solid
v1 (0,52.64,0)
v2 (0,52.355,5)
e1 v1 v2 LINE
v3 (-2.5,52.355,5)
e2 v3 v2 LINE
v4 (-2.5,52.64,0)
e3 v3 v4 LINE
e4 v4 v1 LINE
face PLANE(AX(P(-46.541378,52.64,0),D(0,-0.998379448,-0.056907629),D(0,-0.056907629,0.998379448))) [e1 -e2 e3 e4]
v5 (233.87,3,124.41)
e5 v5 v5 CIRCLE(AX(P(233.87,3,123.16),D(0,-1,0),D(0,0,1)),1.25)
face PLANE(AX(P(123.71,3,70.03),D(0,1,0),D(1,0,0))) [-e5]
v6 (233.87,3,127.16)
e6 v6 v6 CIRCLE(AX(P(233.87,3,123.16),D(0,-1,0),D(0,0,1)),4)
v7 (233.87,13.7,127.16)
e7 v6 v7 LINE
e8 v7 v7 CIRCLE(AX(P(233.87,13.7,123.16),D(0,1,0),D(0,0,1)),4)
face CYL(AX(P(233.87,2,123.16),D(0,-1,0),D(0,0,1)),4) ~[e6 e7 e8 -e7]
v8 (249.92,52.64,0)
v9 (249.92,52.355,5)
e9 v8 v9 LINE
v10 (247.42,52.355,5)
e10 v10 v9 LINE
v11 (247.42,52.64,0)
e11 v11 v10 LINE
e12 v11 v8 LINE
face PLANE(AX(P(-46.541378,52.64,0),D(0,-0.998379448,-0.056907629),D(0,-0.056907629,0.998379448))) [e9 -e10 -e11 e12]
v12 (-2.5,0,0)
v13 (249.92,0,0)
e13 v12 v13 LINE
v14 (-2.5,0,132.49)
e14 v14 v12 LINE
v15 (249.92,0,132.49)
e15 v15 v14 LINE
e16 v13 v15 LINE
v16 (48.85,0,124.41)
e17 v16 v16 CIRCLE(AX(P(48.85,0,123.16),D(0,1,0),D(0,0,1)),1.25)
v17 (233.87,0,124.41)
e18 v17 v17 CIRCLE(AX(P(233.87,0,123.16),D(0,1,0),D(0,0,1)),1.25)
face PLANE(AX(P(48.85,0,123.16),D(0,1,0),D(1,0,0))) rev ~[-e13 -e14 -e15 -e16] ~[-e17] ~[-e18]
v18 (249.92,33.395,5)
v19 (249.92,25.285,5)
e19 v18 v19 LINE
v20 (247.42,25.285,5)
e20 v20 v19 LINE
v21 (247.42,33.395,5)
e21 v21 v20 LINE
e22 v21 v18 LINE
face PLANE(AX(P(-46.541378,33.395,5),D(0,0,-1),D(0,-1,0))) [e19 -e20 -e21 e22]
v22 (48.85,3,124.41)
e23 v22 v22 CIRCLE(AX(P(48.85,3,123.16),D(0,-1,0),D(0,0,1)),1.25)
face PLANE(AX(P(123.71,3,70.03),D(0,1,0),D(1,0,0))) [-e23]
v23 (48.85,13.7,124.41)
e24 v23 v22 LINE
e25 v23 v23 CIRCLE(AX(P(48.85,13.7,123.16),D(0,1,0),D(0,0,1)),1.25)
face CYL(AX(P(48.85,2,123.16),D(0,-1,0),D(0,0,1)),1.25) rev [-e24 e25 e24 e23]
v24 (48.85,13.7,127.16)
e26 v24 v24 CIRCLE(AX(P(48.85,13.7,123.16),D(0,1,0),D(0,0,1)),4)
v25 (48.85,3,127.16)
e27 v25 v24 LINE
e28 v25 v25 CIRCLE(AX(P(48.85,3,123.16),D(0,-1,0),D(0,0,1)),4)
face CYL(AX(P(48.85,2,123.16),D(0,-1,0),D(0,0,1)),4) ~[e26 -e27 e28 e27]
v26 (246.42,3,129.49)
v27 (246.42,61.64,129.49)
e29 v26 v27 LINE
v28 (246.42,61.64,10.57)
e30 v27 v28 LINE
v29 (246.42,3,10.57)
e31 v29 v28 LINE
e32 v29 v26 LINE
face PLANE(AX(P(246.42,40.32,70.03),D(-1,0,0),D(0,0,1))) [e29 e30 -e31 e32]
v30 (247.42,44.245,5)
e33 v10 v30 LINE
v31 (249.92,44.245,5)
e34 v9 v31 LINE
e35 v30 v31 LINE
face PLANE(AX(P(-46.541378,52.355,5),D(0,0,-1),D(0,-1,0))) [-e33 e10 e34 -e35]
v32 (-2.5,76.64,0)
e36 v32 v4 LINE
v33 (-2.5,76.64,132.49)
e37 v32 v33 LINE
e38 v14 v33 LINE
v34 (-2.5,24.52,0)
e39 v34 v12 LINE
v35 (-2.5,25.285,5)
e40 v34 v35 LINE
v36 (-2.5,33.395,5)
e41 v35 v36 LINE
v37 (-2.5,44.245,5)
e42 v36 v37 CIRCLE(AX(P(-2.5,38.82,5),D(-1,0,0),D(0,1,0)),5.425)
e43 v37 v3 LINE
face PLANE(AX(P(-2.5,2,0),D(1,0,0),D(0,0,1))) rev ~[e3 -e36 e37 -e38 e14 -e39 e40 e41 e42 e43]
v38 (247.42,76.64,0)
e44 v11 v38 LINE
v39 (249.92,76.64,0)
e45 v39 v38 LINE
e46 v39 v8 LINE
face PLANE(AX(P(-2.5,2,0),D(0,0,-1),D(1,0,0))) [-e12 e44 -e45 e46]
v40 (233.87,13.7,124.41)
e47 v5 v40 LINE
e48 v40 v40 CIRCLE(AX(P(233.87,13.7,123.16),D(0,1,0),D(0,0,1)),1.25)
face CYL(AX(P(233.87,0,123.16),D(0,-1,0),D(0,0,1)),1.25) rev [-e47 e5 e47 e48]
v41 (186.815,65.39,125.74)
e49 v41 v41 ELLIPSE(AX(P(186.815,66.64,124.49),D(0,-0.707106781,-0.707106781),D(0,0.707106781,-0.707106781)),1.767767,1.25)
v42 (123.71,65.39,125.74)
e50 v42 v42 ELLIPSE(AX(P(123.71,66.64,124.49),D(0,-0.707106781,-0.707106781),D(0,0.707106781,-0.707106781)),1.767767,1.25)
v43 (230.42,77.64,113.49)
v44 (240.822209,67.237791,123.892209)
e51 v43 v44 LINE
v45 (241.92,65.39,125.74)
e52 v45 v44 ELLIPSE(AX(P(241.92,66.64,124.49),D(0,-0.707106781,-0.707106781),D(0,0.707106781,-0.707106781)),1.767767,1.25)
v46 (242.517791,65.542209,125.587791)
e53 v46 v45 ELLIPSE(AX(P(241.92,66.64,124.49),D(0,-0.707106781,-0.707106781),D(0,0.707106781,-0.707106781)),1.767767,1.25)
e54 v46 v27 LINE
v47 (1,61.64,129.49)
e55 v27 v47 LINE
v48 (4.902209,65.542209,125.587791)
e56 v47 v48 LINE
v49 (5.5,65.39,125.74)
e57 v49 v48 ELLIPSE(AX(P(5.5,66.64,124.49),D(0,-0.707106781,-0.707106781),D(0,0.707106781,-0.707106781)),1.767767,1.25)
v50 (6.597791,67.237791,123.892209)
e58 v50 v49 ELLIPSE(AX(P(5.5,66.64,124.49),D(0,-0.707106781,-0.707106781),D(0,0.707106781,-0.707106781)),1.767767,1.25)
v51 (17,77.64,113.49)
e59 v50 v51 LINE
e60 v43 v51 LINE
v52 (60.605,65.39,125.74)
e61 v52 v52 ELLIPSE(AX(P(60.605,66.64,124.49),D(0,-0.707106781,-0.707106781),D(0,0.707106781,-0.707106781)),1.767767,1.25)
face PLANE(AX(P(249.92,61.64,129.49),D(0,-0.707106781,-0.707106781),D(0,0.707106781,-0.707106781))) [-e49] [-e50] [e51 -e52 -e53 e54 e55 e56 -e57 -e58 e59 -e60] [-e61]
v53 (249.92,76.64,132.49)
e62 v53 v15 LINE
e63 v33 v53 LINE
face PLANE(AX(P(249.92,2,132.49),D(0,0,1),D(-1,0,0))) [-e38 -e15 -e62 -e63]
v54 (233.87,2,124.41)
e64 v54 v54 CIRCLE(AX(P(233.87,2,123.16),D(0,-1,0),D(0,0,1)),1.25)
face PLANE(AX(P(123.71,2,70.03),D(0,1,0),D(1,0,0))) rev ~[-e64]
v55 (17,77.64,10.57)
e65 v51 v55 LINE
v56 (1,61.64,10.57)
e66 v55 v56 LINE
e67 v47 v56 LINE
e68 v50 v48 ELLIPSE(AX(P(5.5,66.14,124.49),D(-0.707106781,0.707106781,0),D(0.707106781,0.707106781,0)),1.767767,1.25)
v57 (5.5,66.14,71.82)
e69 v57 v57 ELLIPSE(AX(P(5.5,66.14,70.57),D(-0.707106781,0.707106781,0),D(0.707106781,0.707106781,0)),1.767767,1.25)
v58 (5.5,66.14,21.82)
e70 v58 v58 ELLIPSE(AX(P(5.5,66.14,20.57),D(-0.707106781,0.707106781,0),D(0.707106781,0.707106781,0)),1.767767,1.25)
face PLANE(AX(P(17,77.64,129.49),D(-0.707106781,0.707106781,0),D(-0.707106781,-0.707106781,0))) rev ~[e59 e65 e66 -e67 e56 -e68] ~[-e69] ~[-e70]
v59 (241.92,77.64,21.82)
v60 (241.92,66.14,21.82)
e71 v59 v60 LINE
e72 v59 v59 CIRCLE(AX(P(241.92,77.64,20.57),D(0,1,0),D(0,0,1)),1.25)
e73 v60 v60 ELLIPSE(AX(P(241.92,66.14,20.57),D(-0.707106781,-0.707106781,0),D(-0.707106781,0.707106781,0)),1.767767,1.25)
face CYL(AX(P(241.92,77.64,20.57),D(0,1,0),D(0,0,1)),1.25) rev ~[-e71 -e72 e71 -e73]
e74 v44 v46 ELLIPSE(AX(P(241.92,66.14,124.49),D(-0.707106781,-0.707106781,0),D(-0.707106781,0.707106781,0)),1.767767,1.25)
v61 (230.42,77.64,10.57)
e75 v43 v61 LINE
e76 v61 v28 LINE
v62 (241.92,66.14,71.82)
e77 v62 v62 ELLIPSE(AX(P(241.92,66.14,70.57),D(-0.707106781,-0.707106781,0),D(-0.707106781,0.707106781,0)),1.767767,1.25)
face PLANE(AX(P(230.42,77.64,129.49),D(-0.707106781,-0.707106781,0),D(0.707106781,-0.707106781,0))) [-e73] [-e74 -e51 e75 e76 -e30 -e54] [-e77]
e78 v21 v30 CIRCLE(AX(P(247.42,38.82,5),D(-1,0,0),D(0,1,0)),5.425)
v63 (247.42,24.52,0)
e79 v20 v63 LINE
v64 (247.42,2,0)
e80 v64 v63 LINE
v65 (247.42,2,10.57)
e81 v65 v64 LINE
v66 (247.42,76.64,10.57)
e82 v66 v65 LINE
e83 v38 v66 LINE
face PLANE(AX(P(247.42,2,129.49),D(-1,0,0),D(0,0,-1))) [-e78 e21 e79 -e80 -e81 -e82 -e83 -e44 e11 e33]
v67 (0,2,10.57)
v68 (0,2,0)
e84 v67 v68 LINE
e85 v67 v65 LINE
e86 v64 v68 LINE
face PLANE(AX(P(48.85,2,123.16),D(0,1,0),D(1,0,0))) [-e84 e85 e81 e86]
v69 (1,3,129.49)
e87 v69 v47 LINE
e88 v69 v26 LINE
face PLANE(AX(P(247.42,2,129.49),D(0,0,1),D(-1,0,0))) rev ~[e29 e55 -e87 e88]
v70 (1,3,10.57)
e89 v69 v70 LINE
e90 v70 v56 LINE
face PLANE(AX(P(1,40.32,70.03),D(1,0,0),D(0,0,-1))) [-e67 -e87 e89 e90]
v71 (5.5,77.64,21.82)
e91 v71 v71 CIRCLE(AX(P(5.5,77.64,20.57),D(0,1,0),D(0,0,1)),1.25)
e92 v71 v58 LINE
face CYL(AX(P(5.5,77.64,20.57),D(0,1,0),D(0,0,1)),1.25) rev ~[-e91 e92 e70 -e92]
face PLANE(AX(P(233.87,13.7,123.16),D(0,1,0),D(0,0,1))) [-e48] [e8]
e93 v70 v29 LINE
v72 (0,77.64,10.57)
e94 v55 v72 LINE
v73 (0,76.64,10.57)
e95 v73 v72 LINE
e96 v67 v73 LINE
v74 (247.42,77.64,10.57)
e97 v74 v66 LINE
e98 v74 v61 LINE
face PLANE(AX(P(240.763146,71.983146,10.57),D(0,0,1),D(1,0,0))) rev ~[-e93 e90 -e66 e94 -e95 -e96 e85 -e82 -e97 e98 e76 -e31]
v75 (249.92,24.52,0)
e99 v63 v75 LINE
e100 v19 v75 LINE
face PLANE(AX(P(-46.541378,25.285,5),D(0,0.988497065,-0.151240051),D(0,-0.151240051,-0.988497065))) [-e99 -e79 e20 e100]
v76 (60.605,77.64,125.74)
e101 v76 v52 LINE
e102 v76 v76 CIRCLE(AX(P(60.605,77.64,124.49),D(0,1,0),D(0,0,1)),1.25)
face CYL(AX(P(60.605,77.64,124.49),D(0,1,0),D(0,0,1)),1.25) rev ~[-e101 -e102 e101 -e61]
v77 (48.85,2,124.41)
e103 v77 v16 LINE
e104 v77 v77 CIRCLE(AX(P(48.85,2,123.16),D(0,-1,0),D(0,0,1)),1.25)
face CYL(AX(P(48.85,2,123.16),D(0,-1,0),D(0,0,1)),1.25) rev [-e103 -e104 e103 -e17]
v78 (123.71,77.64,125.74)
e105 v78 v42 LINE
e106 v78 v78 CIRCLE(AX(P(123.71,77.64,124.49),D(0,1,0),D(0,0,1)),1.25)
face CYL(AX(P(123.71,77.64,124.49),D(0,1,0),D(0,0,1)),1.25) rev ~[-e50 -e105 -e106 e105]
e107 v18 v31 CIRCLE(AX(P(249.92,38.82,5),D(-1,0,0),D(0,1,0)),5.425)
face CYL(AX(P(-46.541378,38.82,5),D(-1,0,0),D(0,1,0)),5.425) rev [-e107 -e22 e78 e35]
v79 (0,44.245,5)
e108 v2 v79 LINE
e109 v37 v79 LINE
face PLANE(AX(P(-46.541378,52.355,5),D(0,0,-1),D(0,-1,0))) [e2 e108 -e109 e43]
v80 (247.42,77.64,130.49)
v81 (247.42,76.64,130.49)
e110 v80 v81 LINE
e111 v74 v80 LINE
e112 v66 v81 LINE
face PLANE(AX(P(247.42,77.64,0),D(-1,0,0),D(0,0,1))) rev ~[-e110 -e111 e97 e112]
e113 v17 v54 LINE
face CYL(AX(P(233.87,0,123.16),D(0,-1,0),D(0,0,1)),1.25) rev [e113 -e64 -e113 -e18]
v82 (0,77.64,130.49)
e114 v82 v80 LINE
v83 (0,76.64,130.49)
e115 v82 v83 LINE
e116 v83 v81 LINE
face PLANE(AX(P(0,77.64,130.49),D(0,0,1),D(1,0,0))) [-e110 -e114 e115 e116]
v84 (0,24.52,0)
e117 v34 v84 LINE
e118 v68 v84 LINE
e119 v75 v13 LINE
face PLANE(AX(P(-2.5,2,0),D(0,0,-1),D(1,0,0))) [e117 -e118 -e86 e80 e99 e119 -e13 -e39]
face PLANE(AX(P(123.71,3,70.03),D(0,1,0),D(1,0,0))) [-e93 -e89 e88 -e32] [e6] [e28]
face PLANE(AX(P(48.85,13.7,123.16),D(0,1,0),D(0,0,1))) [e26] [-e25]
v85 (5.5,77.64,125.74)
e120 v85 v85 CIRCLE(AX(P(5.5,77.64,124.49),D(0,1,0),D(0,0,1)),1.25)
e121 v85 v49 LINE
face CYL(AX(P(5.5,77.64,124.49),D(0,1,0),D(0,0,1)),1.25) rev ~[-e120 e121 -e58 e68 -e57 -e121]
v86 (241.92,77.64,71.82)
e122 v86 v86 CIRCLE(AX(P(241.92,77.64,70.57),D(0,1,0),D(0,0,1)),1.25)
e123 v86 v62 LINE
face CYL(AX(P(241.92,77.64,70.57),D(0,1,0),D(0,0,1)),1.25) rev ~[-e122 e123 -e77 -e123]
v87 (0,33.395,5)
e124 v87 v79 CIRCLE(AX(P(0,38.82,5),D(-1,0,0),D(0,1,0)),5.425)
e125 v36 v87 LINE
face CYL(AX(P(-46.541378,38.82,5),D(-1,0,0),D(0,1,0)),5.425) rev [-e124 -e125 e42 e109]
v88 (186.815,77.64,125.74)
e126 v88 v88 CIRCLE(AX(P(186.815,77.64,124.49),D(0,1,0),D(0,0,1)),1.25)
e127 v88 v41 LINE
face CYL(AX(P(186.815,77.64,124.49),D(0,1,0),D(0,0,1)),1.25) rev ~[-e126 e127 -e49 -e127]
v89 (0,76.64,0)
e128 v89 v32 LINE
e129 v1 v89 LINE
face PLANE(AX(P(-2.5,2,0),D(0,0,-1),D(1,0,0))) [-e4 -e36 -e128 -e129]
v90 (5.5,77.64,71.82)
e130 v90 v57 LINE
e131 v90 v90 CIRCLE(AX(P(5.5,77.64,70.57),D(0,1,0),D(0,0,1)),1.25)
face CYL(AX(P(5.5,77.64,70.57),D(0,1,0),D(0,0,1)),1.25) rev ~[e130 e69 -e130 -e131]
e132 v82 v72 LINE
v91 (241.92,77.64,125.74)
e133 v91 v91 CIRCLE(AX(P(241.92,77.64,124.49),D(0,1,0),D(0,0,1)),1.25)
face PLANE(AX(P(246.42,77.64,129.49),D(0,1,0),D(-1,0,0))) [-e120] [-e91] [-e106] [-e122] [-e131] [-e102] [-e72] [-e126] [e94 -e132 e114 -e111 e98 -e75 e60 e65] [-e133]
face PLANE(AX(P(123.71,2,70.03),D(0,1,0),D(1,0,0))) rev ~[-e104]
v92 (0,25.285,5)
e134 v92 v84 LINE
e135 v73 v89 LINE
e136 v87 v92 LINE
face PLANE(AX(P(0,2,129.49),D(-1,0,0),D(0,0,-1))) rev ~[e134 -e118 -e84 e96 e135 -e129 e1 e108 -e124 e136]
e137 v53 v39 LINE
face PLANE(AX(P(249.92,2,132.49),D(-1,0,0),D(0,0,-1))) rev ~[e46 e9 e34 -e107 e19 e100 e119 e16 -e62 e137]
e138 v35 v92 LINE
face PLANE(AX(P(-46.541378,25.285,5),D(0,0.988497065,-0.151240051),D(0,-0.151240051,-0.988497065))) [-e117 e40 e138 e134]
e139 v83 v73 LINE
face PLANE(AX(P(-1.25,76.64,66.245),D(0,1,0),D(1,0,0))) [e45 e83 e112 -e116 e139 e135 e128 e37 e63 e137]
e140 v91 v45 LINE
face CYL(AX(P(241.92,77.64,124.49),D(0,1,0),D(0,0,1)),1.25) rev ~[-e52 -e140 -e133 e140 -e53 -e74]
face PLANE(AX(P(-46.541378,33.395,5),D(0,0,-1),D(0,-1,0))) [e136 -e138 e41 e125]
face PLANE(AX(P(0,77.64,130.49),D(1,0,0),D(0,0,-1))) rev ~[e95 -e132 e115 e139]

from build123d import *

# Parameters (mm, degrees)
SKETCH1_W               = 247.42
SKETCH1_H               = 129.49
SKETCH1_R               = 4
SKETCH1_W_2             = 2.5
SKETCH1_R_2             = 1.25
BOSS_EXTRUDE1_DEPTH     = 2
BOSS_EXTRUDE2_START     = 2
SKETCH1_6_R             = 4
SKETCH1_6_R_2           = 1.25
BOSS_EXTRUDE2_DEPTH     = 11.7
BOSS_EXTRUDE3_START     = 2
SKETCH1_7_W             = 2.5
SKETCH1_7_H             = 129.49
BOSS_EXTRUDE3_DEPTH     = 75.64
SKETCH2_W               = 247.42
SKETCH2_H               = 118.92
BOSS_EXTRUDE4_DEPTH     = 1
SKETCH3_W               = 118.92
SKETCH3_H               = 74.64
BOSS_EXTRUDE5_DEPTH     = 1
SKETCH4_W               = 118.92
SKETCH4_H               = 74.64
BOSS_EXTRUDE6_DEPTH     = 1
CUT_EXTRUDE1_DEPTH      = 296.461378356
CUT_EXTRUDE1_DEPTH_BACK = 296.461378356
BOSS_EXTRUDE7_DEPTH     = 118.92
BOSS_EXTRUDE8_REACH     = 297.461
CUT_EXTRUDE2_REACH      = 295.328
SKETCH8_R               = 1.25
SKETCH9_W               = 247.42
SKETCH9_H               = 2
CUT_EXTRUDE3_DEPTH      = 1


with BuildPart() as part:
    # Sketch1 → Boss-Extrude1 (new body)
    # profile 1 of 6: a face of its own
    with BuildSketch(Plane(origin=(0, 0, 0), x_dir=(1, 0, 0), z_dir=(0, 1, 0))):
        with Locations((123.71, -64.745)):
            Rectangle(SKETCH1_W, SKETCH1_H)
        with Locations((48.85, -123.16)):
            Circle(SKETCH1_R, mode=Mode.SUBTRACT)
        with Locations((233.87, -123.16)):
            Circle(SKETCH1_R, mode=Mode.SUBTRACT)
    # profile 2 of 6: a face of its own
    with BuildSketch(Plane(origin=(0, 0, 0), x_dir=(1, 0, 0), z_dir=(0, 1, 0))):
        with Locations((-1.25, -64.745)):
            Rectangle(SKETCH1_W_2, SKETCH1_H)
    # profile 3 of 6: a face of its own
    with BuildSketch(Plane(origin=(0, 0, 0), x_dir=(1, 0, 0), z_dir=(0, 1, 0))):
        Polygon((249.92, -129.49), (249.92, -132.49), (-2.5, -132.49), (-2.5, -129.49), (0, -129.49), (247.42, -129.49), align=None)
    # profile 4 of 6: a face of its own
    with BuildSketch(Plane(origin=(0, 0, 0), x_dir=(1, 0, 0), z_dir=(0, 1, 0))):
        with Locations((248.67, -64.745)):
            Rectangle(SKETCH1_W_2, SKETCH1_H)
    # profile 5 of 6: a face of its own
    with BuildSketch(Plane(origin=(0, 0, 0), x_dir=(1, 0, 0), z_dir=(0, 1, 0))):
        with Locations((233.87, -123.16)):
            Circle(SKETCH1_R)
        with Locations(Location((233.87, -123.16, 0), (0, 0, 270))):
            Circle(SKETCH1_R_2, mode=Mode.SUBTRACT)
    # profile 6 of 6: a face of its own
    with BuildSketch(Plane(origin=(0, 0, 0), x_dir=(1, 0, 0), z_dir=(0, 1, 0))):
        with Locations((48.85, -123.16)):
            Circle(SKETCH1_R)
        with Locations(Location((48.85, -123.16, 0), (0, 0, 270))):
            Circle(SKETCH1_R_2, mode=Mode.SUBTRACT)
    extrude(amount=BOSS_EXTRUDE1_DEPTH)

    # Sketch1<6> → Boss-Extrude2 (add)
    # profile 1 of 2: a face of its own
    with BuildSketch(Plane(origin=(0, 0, 0), x_dir=(1, 0, 0), z_dir=(0, 1, 0)).offset(BOSS_EXTRUDE2_START)):
        with Locations(Location((48.85, -123.16, 0), (0, 0, 270))):
            Circle(SKETCH1_6_R)
        with Locations(Location((48.85, -123.16, 0), (0, 0, 270))):
            Circle(SKETCH1_6_R_2, mode=Mode.SUBTRACT)
    # profile 2 of 2: a face of its own
    with BuildSketch(Plane(origin=(0, 0, 0), x_dir=(1, 0, 0), z_dir=(0, 1, 0)).offset(BOSS_EXTRUDE2_START)):
        with Locations(Location((233.87, -123.16, 0), (0, 0, 270))):
            Circle(SKETCH1_6_R)
        with Locations(Location((233.87, -123.16, 0), (0, 0, 270))):
            Circle(SKETCH1_6_R_2, mode=Mode.SUBTRACT)
    extrude(amount=BOSS_EXTRUDE2_DEPTH)

    # Sketch1<7> → Boss-Extrude3 (add)
    with BuildSketch(Plane(origin=(0, 0, 0), x_dir=(1, 0, 0), z_dir=(0, 1, 0)).offset(BOSS_EXTRUDE3_START)):
        with Locations((-1.25, -64.745)):
            Rectangle(SKETCH1_7_W, SKETCH1_7_H)
        Polygon((249.92, -129.49), (249.92, -132.49), (-2.5, -132.49), (-2.5, -129.49), (0, -129.49), (247.42, -129.49), align=None)
        with Locations((248.67, -64.745)):
            Rectangle(SKETCH1_7_W, SKETCH1_7_H)
    extrude(amount=BOSS_EXTRUDE3_DEPTH)

    # Sketch2 → Boss-Extrude4 (add)
    with BuildSketch(Plane(origin=(0, 2, 0), x_dir=(1, 0, 0), z_dir=(0, 1, 0))):
        with Locations((123.71, -70.03)):
            Rectangle(SKETCH2_W, SKETCH2_H)
    extrude(amount=BOSS_EXTRUDE4_DEPTH)

    # Sketch3 → Boss-Extrude5 (add)
    with BuildSketch(Plane(origin=(0, 0, 0), x_dir=(0, 0, -1), z_dir=(1, 0, 0))):
        with Locations((-70.03, 40.32)):
            Rectangle(SKETCH3_W, SKETCH3_H)
    extrude(amount=BOSS_EXTRUDE5_DEPTH)

    # Sketch4 → Boss-Extrude6 (add)
    with BuildSketch(Plane.ZY.offset(-247.42)):
        with Locations((70.03, 40.32)):
            Rectangle(SKETCH4_W, SKETCH4_H)
    extrude(amount=BOSS_EXTRUDE6_DEPTH)

    # Sketch5 → Cut-Extrude1 (cut, two sides: drawn at the far end of the back side and taken through both)
    with BuildSketch(Plane(origin=(249.92, 0, 0), x_dir=(0, 0, -1), z_dir=(1, 0, 0)).offset(-CUT_EXTRUDE1_DEPTH_BACK)):
        Polygon((-5, 25.285), (0, 24.52), (0, 52.64), (-5, 52.355), (-5, 44.245), (-5, 33.395), align=None)
        with BuildLine():
            ThreePointArc((-5, 44.245), (-10.425, 38.82), (-5, 33.395))
            Line((-5, 33.395), (-5, 44.245))
        make_face()
    extrude(amount=CUT_EXTRUDE1_DEPTH + CUT_EXTRUDE1_DEPTH_BACK, mode=Mode.SUBTRACT)

    # Sketch6 → Boss-Extrude7 (add)
    with BuildSketch(Plane(origin=(0, 0, 129.49), x_dir=(-1, 0, 0), z_dir=(0, 0, -1))):
        Polygon((-246.42, 77.64), (-230.42, 77.64), (-246.42, 61.64), align=None)
        Polygon((-1, 77.64), (-17, 77.64), (-1, 61.64), align=None)
    extrude(amount=BOSS_EXTRUDE7_DEPTH)

    # Boss-Extrude8: up to this plane
    boss_extrude8_end = Plane(origin=(17, 77.64, -12.057416998), z_dir=(-0.7071067811865476, 0.7071067811865476, 0))
    # Sketch7 → Boss-Extrude8 (add, up to the surface)
    with BuildSketch(Plane(origin=(249.92, 0, 0), x_dir=(0, 0, -1), z_dir=(1, 0, 0)), mode=Mode.PRIVATE) as boss_extrude8_sk1:
        Polygon((-132.49, 77.64), (-132.49, 61.64), (-129.49, 61.64), (-113.49, 77.64), align=None)
    boss_extrude8_tool1 = split(extrude(boss_extrude8_sk1.sketch, amount=-BOSS_EXTRUDE8_REACH, mode=Mode.PRIVATE), bisect_by=boss_extrude8_end, keep=Keep.BOTH, mode=Mode.PRIVATE)
    add(boss_extrude8_tool1.solids().sort_by_distance((249.92, 71.579394, 126.020303))[0])

    # Sketch8 → Cut-Extrude2 (cut, up to next)
    with BuildSketch(Plane(origin=(0, 77.64, 0), x_dir=(1, 0, 0), z_dir=(0, 1, 0)), mode=Mode.PRIVATE) as cut_extrude2_sk1:
        with Locations(Location((5.5, -124.49, 0), (0, 0, 270))):
            Circle(SKETCH8_R)
    cut_extrude2_tool1 = extrude(cut_extrude2_sk1.sketch, amount=-CUT_EXTRUDE2_REACH, mode=Mode.PRIVATE) & part.part
    # Sketch8 → Cut-Extrude2 (cut, up to next)
    with BuildSketch(Plane(origin=(0, 77.64, 0), x_dir=(1, 0, 0), z_dir=(0, 1, 0)), mode=Mode.PRIVATE) as cut_extrude2_sk2:
        with Locations(Location((241.92, -124.49, 0), (0, 0, 270))):
            Circle(SKETCH8_R)
    cut_extrude2_tool2 = extrude(cut_extrude2_sk2.sketch, amount=-CUT_EXTRUDE2_REACH, mode=Mode.PRIVATE) & part.part
    # Sketch8 → Cut-Extrude2 (cut, up to next)
    with BuildSketch(Plane(origin=(0, 77.64, 0), x_dir=(1, 0, 0), z_dir=(0, 1, 0)), mode=Mode.PRIVATE) as cut_extrude2_sk3:
        with Locations(Location((60.605, -124.49, 0), (0, 0, 270))):
            Circle(SKETCH8_R)
    cut_extrude2_tool3 = extrude(cut_extrude2_sk3.sketch, amount=-CUT_EXTRUDE2_REACH, mode=Mode.PRIVATE) & part.part
    # Sketch8 → Cut-Extrude2 (cut, up to next)
    with BuildSketch(Plane(origin=(0, 77.64, 0), x_dir=(1, 0, 0), z_dir=(0, 1, 0)), mode=Mode.PRIVATE) as cut_extrude2_sk4:
        with Locations(Location((186.815, -124.49, 0), (0, 0, 270))):
            Circle(SKETCH8_R)
    cut_extrude2_tool4 = extrude(cut_extrude2_sk4.sketch, amount=-CUT_EXTRUDE2_REACH, mode=Mode.PRIVATE) & part.part
    # Sketch8 → Cut-Extrude2 (cut, up to next)
    with BuildSketch(Plane(origin=(0, 77.64, 0), x_dir=(1, 0, 0), z_dir=(0, 1, 0)), mode=Mode.PRIVATE) as cut_extrude2_sk5:
        with Locations(Location((123.71, -124.49, 0), (0, 0, 270))):
            Circle(SKETCH8_R)
    cut_extrude2_tool5 = extrude(cut_extrude2_sk5.sketch, amount=-CUT_EXTRUDE2_REACH, mode=Mode.PRIVATE) & part.part
    # Sketch8 → Cut-Extrude2 (cut, up to next)
    with BuildSketch(Plane(origin=(0, 77.64, 0), x_dir=(1, 0, 0), z_dir=(0, 1, 0)), mode=Mode.PRIVATE) as cut_extrude2_sk6:
        with Locations(Location((5.5, -70.57, 0), (0, 0, 270))):
            Circle(SKETCH8_R)
    cut_extrude2_tool6 = extrude(cut_extrude2_sk6.sketch, amount=-CUT_EXTRUDE2_REACH, mode=Mode.PRIVATE) & part.part
    # Sketch8 → Cut-Extrude2 (cut, up to next)
    with BuildSketch(Plane(origin=(0, 77.64, 0), x_dir=(1, 0, 0), z_dir=(0, 1, 0)), mode=Mode.PRIVATE) as cut_extrude2_sk7:
        with Locations(Location((5.5, -20.57, 0), (0, 0, 270))):
            Circle(SKETCH8_R)
    cut_extrude2_tool7 = extrude(cut_extrude2_sk7.sketch, amount=-CUT_EXTRUDE2_REACH, mode=Mode.PRIVATE) & part.part
    # Sketch8 → Cut-Extrude2 (cut, up to next)
    with BuildSketch(Plane(origin=(0, 77.64, 0), x_dir=(1, 0, 0), z_dir=(0, 1, 0)), mode=Mode.PRIVATE) as cut_extrude2_sk8:
        with Locations(Location((241.92, -20.57, 0), (0, 0, 270))):
            Circle(SKETCH8_R)
    cut_extrude2_tool8 = extrude(cut_extrude2_sk8.sketch, amount=-CUT_EXTRUDE2_REACH, mode=Mode.PRIVATE) & part.part
    # Sketch8 → Cut-Extrude2 (cut, up to next)
    with BuildSketch(Plane(origin=(0, 77.64, 0), x_dir=(1, 0, 0), z_dir=(0, 1, 0)), mode=Mode.PRIVATE) as cut_extrude2_sk9:
        with Locations(Location((241.92, -70.57, 0), (0, 0, 270))):
            Circle(SKETCH8_R)
    cut_extrude2_tool9 = extrude(cut_extrude2_sk9.sketch, amount=-CUT_EXTRUDE2_REACH, mode=Mode.PRIVATE) & part.part
    add(cut_extrude2_tool1.solids().sort_by_distance((5.5, 77.64, 124.49))[0], mode=Mode.SUBTRACT)
    add(cut_extrude2_tool2.solids().sort_by_distance((241.92, 77.64, 124.49))[0], mode=Mode.SUBTRACT)
    add(cut_extrude2_tool3.solids().sort_by_distance((60.605, 77.64, 124.49))[0], mode=Mode.SUBTRACT)
    add(cut_extrude2_tool4.solids().sort_by_distance((186.815, 77.64, 124.49))[0], mode=Mode.SUBTRACT)
    add(cut_extrude2_tool5.solids().sort_by_distance((123.71, 77.64, 124.49))[0], mode=Mode.SUBTRACT)
    add(cut_extrude2_tool6.solids().sort_by_distance((5.5, 77.64, 70.57))[0], mode=Mode.SUBTRACT)
    add(cut_extrude2_tool7.solids().sort_by_distance((5.5, 77.64, 20.57))[0], mode=Mode.SUBTRACT)
    add(cut_extrude2_tool8.solids().sort_by_distance((241.92, 77.64, 20.57))[0], mode=Mode.SUBTRACT)
    add(cut_extrude2_tool9.solids().sort_by_distance((241.92, 77.64, 70.57))[0], mode=Mode.SUBTRACT)

    # Sketch9 → Cut-Extrude3 (cut)
    with BuildSketch(Plane(origin=(0, 77.64, 0), x_dir=(1, 0, 0), z_dir=(0, 1, 0))):
        Polygon((0, 0), (-2.5, 0), (-2.5, -132.49), (0, -132.49), (0, -130.49), align=None)
        with Locations((123.71, -131.49)):
            Rectangle(SKETCH9_W, SKETCH9_H)
        Polygon((247.42, 0), (247.42, -130.49), (247.42, -132.49), (249.92, -132.49), (249.92, 0), align=None)
    extrude(amount=-CUT_EXTRUDE3_DEPTH, mode=Mode.SUBTRACT)


solid = part.part
